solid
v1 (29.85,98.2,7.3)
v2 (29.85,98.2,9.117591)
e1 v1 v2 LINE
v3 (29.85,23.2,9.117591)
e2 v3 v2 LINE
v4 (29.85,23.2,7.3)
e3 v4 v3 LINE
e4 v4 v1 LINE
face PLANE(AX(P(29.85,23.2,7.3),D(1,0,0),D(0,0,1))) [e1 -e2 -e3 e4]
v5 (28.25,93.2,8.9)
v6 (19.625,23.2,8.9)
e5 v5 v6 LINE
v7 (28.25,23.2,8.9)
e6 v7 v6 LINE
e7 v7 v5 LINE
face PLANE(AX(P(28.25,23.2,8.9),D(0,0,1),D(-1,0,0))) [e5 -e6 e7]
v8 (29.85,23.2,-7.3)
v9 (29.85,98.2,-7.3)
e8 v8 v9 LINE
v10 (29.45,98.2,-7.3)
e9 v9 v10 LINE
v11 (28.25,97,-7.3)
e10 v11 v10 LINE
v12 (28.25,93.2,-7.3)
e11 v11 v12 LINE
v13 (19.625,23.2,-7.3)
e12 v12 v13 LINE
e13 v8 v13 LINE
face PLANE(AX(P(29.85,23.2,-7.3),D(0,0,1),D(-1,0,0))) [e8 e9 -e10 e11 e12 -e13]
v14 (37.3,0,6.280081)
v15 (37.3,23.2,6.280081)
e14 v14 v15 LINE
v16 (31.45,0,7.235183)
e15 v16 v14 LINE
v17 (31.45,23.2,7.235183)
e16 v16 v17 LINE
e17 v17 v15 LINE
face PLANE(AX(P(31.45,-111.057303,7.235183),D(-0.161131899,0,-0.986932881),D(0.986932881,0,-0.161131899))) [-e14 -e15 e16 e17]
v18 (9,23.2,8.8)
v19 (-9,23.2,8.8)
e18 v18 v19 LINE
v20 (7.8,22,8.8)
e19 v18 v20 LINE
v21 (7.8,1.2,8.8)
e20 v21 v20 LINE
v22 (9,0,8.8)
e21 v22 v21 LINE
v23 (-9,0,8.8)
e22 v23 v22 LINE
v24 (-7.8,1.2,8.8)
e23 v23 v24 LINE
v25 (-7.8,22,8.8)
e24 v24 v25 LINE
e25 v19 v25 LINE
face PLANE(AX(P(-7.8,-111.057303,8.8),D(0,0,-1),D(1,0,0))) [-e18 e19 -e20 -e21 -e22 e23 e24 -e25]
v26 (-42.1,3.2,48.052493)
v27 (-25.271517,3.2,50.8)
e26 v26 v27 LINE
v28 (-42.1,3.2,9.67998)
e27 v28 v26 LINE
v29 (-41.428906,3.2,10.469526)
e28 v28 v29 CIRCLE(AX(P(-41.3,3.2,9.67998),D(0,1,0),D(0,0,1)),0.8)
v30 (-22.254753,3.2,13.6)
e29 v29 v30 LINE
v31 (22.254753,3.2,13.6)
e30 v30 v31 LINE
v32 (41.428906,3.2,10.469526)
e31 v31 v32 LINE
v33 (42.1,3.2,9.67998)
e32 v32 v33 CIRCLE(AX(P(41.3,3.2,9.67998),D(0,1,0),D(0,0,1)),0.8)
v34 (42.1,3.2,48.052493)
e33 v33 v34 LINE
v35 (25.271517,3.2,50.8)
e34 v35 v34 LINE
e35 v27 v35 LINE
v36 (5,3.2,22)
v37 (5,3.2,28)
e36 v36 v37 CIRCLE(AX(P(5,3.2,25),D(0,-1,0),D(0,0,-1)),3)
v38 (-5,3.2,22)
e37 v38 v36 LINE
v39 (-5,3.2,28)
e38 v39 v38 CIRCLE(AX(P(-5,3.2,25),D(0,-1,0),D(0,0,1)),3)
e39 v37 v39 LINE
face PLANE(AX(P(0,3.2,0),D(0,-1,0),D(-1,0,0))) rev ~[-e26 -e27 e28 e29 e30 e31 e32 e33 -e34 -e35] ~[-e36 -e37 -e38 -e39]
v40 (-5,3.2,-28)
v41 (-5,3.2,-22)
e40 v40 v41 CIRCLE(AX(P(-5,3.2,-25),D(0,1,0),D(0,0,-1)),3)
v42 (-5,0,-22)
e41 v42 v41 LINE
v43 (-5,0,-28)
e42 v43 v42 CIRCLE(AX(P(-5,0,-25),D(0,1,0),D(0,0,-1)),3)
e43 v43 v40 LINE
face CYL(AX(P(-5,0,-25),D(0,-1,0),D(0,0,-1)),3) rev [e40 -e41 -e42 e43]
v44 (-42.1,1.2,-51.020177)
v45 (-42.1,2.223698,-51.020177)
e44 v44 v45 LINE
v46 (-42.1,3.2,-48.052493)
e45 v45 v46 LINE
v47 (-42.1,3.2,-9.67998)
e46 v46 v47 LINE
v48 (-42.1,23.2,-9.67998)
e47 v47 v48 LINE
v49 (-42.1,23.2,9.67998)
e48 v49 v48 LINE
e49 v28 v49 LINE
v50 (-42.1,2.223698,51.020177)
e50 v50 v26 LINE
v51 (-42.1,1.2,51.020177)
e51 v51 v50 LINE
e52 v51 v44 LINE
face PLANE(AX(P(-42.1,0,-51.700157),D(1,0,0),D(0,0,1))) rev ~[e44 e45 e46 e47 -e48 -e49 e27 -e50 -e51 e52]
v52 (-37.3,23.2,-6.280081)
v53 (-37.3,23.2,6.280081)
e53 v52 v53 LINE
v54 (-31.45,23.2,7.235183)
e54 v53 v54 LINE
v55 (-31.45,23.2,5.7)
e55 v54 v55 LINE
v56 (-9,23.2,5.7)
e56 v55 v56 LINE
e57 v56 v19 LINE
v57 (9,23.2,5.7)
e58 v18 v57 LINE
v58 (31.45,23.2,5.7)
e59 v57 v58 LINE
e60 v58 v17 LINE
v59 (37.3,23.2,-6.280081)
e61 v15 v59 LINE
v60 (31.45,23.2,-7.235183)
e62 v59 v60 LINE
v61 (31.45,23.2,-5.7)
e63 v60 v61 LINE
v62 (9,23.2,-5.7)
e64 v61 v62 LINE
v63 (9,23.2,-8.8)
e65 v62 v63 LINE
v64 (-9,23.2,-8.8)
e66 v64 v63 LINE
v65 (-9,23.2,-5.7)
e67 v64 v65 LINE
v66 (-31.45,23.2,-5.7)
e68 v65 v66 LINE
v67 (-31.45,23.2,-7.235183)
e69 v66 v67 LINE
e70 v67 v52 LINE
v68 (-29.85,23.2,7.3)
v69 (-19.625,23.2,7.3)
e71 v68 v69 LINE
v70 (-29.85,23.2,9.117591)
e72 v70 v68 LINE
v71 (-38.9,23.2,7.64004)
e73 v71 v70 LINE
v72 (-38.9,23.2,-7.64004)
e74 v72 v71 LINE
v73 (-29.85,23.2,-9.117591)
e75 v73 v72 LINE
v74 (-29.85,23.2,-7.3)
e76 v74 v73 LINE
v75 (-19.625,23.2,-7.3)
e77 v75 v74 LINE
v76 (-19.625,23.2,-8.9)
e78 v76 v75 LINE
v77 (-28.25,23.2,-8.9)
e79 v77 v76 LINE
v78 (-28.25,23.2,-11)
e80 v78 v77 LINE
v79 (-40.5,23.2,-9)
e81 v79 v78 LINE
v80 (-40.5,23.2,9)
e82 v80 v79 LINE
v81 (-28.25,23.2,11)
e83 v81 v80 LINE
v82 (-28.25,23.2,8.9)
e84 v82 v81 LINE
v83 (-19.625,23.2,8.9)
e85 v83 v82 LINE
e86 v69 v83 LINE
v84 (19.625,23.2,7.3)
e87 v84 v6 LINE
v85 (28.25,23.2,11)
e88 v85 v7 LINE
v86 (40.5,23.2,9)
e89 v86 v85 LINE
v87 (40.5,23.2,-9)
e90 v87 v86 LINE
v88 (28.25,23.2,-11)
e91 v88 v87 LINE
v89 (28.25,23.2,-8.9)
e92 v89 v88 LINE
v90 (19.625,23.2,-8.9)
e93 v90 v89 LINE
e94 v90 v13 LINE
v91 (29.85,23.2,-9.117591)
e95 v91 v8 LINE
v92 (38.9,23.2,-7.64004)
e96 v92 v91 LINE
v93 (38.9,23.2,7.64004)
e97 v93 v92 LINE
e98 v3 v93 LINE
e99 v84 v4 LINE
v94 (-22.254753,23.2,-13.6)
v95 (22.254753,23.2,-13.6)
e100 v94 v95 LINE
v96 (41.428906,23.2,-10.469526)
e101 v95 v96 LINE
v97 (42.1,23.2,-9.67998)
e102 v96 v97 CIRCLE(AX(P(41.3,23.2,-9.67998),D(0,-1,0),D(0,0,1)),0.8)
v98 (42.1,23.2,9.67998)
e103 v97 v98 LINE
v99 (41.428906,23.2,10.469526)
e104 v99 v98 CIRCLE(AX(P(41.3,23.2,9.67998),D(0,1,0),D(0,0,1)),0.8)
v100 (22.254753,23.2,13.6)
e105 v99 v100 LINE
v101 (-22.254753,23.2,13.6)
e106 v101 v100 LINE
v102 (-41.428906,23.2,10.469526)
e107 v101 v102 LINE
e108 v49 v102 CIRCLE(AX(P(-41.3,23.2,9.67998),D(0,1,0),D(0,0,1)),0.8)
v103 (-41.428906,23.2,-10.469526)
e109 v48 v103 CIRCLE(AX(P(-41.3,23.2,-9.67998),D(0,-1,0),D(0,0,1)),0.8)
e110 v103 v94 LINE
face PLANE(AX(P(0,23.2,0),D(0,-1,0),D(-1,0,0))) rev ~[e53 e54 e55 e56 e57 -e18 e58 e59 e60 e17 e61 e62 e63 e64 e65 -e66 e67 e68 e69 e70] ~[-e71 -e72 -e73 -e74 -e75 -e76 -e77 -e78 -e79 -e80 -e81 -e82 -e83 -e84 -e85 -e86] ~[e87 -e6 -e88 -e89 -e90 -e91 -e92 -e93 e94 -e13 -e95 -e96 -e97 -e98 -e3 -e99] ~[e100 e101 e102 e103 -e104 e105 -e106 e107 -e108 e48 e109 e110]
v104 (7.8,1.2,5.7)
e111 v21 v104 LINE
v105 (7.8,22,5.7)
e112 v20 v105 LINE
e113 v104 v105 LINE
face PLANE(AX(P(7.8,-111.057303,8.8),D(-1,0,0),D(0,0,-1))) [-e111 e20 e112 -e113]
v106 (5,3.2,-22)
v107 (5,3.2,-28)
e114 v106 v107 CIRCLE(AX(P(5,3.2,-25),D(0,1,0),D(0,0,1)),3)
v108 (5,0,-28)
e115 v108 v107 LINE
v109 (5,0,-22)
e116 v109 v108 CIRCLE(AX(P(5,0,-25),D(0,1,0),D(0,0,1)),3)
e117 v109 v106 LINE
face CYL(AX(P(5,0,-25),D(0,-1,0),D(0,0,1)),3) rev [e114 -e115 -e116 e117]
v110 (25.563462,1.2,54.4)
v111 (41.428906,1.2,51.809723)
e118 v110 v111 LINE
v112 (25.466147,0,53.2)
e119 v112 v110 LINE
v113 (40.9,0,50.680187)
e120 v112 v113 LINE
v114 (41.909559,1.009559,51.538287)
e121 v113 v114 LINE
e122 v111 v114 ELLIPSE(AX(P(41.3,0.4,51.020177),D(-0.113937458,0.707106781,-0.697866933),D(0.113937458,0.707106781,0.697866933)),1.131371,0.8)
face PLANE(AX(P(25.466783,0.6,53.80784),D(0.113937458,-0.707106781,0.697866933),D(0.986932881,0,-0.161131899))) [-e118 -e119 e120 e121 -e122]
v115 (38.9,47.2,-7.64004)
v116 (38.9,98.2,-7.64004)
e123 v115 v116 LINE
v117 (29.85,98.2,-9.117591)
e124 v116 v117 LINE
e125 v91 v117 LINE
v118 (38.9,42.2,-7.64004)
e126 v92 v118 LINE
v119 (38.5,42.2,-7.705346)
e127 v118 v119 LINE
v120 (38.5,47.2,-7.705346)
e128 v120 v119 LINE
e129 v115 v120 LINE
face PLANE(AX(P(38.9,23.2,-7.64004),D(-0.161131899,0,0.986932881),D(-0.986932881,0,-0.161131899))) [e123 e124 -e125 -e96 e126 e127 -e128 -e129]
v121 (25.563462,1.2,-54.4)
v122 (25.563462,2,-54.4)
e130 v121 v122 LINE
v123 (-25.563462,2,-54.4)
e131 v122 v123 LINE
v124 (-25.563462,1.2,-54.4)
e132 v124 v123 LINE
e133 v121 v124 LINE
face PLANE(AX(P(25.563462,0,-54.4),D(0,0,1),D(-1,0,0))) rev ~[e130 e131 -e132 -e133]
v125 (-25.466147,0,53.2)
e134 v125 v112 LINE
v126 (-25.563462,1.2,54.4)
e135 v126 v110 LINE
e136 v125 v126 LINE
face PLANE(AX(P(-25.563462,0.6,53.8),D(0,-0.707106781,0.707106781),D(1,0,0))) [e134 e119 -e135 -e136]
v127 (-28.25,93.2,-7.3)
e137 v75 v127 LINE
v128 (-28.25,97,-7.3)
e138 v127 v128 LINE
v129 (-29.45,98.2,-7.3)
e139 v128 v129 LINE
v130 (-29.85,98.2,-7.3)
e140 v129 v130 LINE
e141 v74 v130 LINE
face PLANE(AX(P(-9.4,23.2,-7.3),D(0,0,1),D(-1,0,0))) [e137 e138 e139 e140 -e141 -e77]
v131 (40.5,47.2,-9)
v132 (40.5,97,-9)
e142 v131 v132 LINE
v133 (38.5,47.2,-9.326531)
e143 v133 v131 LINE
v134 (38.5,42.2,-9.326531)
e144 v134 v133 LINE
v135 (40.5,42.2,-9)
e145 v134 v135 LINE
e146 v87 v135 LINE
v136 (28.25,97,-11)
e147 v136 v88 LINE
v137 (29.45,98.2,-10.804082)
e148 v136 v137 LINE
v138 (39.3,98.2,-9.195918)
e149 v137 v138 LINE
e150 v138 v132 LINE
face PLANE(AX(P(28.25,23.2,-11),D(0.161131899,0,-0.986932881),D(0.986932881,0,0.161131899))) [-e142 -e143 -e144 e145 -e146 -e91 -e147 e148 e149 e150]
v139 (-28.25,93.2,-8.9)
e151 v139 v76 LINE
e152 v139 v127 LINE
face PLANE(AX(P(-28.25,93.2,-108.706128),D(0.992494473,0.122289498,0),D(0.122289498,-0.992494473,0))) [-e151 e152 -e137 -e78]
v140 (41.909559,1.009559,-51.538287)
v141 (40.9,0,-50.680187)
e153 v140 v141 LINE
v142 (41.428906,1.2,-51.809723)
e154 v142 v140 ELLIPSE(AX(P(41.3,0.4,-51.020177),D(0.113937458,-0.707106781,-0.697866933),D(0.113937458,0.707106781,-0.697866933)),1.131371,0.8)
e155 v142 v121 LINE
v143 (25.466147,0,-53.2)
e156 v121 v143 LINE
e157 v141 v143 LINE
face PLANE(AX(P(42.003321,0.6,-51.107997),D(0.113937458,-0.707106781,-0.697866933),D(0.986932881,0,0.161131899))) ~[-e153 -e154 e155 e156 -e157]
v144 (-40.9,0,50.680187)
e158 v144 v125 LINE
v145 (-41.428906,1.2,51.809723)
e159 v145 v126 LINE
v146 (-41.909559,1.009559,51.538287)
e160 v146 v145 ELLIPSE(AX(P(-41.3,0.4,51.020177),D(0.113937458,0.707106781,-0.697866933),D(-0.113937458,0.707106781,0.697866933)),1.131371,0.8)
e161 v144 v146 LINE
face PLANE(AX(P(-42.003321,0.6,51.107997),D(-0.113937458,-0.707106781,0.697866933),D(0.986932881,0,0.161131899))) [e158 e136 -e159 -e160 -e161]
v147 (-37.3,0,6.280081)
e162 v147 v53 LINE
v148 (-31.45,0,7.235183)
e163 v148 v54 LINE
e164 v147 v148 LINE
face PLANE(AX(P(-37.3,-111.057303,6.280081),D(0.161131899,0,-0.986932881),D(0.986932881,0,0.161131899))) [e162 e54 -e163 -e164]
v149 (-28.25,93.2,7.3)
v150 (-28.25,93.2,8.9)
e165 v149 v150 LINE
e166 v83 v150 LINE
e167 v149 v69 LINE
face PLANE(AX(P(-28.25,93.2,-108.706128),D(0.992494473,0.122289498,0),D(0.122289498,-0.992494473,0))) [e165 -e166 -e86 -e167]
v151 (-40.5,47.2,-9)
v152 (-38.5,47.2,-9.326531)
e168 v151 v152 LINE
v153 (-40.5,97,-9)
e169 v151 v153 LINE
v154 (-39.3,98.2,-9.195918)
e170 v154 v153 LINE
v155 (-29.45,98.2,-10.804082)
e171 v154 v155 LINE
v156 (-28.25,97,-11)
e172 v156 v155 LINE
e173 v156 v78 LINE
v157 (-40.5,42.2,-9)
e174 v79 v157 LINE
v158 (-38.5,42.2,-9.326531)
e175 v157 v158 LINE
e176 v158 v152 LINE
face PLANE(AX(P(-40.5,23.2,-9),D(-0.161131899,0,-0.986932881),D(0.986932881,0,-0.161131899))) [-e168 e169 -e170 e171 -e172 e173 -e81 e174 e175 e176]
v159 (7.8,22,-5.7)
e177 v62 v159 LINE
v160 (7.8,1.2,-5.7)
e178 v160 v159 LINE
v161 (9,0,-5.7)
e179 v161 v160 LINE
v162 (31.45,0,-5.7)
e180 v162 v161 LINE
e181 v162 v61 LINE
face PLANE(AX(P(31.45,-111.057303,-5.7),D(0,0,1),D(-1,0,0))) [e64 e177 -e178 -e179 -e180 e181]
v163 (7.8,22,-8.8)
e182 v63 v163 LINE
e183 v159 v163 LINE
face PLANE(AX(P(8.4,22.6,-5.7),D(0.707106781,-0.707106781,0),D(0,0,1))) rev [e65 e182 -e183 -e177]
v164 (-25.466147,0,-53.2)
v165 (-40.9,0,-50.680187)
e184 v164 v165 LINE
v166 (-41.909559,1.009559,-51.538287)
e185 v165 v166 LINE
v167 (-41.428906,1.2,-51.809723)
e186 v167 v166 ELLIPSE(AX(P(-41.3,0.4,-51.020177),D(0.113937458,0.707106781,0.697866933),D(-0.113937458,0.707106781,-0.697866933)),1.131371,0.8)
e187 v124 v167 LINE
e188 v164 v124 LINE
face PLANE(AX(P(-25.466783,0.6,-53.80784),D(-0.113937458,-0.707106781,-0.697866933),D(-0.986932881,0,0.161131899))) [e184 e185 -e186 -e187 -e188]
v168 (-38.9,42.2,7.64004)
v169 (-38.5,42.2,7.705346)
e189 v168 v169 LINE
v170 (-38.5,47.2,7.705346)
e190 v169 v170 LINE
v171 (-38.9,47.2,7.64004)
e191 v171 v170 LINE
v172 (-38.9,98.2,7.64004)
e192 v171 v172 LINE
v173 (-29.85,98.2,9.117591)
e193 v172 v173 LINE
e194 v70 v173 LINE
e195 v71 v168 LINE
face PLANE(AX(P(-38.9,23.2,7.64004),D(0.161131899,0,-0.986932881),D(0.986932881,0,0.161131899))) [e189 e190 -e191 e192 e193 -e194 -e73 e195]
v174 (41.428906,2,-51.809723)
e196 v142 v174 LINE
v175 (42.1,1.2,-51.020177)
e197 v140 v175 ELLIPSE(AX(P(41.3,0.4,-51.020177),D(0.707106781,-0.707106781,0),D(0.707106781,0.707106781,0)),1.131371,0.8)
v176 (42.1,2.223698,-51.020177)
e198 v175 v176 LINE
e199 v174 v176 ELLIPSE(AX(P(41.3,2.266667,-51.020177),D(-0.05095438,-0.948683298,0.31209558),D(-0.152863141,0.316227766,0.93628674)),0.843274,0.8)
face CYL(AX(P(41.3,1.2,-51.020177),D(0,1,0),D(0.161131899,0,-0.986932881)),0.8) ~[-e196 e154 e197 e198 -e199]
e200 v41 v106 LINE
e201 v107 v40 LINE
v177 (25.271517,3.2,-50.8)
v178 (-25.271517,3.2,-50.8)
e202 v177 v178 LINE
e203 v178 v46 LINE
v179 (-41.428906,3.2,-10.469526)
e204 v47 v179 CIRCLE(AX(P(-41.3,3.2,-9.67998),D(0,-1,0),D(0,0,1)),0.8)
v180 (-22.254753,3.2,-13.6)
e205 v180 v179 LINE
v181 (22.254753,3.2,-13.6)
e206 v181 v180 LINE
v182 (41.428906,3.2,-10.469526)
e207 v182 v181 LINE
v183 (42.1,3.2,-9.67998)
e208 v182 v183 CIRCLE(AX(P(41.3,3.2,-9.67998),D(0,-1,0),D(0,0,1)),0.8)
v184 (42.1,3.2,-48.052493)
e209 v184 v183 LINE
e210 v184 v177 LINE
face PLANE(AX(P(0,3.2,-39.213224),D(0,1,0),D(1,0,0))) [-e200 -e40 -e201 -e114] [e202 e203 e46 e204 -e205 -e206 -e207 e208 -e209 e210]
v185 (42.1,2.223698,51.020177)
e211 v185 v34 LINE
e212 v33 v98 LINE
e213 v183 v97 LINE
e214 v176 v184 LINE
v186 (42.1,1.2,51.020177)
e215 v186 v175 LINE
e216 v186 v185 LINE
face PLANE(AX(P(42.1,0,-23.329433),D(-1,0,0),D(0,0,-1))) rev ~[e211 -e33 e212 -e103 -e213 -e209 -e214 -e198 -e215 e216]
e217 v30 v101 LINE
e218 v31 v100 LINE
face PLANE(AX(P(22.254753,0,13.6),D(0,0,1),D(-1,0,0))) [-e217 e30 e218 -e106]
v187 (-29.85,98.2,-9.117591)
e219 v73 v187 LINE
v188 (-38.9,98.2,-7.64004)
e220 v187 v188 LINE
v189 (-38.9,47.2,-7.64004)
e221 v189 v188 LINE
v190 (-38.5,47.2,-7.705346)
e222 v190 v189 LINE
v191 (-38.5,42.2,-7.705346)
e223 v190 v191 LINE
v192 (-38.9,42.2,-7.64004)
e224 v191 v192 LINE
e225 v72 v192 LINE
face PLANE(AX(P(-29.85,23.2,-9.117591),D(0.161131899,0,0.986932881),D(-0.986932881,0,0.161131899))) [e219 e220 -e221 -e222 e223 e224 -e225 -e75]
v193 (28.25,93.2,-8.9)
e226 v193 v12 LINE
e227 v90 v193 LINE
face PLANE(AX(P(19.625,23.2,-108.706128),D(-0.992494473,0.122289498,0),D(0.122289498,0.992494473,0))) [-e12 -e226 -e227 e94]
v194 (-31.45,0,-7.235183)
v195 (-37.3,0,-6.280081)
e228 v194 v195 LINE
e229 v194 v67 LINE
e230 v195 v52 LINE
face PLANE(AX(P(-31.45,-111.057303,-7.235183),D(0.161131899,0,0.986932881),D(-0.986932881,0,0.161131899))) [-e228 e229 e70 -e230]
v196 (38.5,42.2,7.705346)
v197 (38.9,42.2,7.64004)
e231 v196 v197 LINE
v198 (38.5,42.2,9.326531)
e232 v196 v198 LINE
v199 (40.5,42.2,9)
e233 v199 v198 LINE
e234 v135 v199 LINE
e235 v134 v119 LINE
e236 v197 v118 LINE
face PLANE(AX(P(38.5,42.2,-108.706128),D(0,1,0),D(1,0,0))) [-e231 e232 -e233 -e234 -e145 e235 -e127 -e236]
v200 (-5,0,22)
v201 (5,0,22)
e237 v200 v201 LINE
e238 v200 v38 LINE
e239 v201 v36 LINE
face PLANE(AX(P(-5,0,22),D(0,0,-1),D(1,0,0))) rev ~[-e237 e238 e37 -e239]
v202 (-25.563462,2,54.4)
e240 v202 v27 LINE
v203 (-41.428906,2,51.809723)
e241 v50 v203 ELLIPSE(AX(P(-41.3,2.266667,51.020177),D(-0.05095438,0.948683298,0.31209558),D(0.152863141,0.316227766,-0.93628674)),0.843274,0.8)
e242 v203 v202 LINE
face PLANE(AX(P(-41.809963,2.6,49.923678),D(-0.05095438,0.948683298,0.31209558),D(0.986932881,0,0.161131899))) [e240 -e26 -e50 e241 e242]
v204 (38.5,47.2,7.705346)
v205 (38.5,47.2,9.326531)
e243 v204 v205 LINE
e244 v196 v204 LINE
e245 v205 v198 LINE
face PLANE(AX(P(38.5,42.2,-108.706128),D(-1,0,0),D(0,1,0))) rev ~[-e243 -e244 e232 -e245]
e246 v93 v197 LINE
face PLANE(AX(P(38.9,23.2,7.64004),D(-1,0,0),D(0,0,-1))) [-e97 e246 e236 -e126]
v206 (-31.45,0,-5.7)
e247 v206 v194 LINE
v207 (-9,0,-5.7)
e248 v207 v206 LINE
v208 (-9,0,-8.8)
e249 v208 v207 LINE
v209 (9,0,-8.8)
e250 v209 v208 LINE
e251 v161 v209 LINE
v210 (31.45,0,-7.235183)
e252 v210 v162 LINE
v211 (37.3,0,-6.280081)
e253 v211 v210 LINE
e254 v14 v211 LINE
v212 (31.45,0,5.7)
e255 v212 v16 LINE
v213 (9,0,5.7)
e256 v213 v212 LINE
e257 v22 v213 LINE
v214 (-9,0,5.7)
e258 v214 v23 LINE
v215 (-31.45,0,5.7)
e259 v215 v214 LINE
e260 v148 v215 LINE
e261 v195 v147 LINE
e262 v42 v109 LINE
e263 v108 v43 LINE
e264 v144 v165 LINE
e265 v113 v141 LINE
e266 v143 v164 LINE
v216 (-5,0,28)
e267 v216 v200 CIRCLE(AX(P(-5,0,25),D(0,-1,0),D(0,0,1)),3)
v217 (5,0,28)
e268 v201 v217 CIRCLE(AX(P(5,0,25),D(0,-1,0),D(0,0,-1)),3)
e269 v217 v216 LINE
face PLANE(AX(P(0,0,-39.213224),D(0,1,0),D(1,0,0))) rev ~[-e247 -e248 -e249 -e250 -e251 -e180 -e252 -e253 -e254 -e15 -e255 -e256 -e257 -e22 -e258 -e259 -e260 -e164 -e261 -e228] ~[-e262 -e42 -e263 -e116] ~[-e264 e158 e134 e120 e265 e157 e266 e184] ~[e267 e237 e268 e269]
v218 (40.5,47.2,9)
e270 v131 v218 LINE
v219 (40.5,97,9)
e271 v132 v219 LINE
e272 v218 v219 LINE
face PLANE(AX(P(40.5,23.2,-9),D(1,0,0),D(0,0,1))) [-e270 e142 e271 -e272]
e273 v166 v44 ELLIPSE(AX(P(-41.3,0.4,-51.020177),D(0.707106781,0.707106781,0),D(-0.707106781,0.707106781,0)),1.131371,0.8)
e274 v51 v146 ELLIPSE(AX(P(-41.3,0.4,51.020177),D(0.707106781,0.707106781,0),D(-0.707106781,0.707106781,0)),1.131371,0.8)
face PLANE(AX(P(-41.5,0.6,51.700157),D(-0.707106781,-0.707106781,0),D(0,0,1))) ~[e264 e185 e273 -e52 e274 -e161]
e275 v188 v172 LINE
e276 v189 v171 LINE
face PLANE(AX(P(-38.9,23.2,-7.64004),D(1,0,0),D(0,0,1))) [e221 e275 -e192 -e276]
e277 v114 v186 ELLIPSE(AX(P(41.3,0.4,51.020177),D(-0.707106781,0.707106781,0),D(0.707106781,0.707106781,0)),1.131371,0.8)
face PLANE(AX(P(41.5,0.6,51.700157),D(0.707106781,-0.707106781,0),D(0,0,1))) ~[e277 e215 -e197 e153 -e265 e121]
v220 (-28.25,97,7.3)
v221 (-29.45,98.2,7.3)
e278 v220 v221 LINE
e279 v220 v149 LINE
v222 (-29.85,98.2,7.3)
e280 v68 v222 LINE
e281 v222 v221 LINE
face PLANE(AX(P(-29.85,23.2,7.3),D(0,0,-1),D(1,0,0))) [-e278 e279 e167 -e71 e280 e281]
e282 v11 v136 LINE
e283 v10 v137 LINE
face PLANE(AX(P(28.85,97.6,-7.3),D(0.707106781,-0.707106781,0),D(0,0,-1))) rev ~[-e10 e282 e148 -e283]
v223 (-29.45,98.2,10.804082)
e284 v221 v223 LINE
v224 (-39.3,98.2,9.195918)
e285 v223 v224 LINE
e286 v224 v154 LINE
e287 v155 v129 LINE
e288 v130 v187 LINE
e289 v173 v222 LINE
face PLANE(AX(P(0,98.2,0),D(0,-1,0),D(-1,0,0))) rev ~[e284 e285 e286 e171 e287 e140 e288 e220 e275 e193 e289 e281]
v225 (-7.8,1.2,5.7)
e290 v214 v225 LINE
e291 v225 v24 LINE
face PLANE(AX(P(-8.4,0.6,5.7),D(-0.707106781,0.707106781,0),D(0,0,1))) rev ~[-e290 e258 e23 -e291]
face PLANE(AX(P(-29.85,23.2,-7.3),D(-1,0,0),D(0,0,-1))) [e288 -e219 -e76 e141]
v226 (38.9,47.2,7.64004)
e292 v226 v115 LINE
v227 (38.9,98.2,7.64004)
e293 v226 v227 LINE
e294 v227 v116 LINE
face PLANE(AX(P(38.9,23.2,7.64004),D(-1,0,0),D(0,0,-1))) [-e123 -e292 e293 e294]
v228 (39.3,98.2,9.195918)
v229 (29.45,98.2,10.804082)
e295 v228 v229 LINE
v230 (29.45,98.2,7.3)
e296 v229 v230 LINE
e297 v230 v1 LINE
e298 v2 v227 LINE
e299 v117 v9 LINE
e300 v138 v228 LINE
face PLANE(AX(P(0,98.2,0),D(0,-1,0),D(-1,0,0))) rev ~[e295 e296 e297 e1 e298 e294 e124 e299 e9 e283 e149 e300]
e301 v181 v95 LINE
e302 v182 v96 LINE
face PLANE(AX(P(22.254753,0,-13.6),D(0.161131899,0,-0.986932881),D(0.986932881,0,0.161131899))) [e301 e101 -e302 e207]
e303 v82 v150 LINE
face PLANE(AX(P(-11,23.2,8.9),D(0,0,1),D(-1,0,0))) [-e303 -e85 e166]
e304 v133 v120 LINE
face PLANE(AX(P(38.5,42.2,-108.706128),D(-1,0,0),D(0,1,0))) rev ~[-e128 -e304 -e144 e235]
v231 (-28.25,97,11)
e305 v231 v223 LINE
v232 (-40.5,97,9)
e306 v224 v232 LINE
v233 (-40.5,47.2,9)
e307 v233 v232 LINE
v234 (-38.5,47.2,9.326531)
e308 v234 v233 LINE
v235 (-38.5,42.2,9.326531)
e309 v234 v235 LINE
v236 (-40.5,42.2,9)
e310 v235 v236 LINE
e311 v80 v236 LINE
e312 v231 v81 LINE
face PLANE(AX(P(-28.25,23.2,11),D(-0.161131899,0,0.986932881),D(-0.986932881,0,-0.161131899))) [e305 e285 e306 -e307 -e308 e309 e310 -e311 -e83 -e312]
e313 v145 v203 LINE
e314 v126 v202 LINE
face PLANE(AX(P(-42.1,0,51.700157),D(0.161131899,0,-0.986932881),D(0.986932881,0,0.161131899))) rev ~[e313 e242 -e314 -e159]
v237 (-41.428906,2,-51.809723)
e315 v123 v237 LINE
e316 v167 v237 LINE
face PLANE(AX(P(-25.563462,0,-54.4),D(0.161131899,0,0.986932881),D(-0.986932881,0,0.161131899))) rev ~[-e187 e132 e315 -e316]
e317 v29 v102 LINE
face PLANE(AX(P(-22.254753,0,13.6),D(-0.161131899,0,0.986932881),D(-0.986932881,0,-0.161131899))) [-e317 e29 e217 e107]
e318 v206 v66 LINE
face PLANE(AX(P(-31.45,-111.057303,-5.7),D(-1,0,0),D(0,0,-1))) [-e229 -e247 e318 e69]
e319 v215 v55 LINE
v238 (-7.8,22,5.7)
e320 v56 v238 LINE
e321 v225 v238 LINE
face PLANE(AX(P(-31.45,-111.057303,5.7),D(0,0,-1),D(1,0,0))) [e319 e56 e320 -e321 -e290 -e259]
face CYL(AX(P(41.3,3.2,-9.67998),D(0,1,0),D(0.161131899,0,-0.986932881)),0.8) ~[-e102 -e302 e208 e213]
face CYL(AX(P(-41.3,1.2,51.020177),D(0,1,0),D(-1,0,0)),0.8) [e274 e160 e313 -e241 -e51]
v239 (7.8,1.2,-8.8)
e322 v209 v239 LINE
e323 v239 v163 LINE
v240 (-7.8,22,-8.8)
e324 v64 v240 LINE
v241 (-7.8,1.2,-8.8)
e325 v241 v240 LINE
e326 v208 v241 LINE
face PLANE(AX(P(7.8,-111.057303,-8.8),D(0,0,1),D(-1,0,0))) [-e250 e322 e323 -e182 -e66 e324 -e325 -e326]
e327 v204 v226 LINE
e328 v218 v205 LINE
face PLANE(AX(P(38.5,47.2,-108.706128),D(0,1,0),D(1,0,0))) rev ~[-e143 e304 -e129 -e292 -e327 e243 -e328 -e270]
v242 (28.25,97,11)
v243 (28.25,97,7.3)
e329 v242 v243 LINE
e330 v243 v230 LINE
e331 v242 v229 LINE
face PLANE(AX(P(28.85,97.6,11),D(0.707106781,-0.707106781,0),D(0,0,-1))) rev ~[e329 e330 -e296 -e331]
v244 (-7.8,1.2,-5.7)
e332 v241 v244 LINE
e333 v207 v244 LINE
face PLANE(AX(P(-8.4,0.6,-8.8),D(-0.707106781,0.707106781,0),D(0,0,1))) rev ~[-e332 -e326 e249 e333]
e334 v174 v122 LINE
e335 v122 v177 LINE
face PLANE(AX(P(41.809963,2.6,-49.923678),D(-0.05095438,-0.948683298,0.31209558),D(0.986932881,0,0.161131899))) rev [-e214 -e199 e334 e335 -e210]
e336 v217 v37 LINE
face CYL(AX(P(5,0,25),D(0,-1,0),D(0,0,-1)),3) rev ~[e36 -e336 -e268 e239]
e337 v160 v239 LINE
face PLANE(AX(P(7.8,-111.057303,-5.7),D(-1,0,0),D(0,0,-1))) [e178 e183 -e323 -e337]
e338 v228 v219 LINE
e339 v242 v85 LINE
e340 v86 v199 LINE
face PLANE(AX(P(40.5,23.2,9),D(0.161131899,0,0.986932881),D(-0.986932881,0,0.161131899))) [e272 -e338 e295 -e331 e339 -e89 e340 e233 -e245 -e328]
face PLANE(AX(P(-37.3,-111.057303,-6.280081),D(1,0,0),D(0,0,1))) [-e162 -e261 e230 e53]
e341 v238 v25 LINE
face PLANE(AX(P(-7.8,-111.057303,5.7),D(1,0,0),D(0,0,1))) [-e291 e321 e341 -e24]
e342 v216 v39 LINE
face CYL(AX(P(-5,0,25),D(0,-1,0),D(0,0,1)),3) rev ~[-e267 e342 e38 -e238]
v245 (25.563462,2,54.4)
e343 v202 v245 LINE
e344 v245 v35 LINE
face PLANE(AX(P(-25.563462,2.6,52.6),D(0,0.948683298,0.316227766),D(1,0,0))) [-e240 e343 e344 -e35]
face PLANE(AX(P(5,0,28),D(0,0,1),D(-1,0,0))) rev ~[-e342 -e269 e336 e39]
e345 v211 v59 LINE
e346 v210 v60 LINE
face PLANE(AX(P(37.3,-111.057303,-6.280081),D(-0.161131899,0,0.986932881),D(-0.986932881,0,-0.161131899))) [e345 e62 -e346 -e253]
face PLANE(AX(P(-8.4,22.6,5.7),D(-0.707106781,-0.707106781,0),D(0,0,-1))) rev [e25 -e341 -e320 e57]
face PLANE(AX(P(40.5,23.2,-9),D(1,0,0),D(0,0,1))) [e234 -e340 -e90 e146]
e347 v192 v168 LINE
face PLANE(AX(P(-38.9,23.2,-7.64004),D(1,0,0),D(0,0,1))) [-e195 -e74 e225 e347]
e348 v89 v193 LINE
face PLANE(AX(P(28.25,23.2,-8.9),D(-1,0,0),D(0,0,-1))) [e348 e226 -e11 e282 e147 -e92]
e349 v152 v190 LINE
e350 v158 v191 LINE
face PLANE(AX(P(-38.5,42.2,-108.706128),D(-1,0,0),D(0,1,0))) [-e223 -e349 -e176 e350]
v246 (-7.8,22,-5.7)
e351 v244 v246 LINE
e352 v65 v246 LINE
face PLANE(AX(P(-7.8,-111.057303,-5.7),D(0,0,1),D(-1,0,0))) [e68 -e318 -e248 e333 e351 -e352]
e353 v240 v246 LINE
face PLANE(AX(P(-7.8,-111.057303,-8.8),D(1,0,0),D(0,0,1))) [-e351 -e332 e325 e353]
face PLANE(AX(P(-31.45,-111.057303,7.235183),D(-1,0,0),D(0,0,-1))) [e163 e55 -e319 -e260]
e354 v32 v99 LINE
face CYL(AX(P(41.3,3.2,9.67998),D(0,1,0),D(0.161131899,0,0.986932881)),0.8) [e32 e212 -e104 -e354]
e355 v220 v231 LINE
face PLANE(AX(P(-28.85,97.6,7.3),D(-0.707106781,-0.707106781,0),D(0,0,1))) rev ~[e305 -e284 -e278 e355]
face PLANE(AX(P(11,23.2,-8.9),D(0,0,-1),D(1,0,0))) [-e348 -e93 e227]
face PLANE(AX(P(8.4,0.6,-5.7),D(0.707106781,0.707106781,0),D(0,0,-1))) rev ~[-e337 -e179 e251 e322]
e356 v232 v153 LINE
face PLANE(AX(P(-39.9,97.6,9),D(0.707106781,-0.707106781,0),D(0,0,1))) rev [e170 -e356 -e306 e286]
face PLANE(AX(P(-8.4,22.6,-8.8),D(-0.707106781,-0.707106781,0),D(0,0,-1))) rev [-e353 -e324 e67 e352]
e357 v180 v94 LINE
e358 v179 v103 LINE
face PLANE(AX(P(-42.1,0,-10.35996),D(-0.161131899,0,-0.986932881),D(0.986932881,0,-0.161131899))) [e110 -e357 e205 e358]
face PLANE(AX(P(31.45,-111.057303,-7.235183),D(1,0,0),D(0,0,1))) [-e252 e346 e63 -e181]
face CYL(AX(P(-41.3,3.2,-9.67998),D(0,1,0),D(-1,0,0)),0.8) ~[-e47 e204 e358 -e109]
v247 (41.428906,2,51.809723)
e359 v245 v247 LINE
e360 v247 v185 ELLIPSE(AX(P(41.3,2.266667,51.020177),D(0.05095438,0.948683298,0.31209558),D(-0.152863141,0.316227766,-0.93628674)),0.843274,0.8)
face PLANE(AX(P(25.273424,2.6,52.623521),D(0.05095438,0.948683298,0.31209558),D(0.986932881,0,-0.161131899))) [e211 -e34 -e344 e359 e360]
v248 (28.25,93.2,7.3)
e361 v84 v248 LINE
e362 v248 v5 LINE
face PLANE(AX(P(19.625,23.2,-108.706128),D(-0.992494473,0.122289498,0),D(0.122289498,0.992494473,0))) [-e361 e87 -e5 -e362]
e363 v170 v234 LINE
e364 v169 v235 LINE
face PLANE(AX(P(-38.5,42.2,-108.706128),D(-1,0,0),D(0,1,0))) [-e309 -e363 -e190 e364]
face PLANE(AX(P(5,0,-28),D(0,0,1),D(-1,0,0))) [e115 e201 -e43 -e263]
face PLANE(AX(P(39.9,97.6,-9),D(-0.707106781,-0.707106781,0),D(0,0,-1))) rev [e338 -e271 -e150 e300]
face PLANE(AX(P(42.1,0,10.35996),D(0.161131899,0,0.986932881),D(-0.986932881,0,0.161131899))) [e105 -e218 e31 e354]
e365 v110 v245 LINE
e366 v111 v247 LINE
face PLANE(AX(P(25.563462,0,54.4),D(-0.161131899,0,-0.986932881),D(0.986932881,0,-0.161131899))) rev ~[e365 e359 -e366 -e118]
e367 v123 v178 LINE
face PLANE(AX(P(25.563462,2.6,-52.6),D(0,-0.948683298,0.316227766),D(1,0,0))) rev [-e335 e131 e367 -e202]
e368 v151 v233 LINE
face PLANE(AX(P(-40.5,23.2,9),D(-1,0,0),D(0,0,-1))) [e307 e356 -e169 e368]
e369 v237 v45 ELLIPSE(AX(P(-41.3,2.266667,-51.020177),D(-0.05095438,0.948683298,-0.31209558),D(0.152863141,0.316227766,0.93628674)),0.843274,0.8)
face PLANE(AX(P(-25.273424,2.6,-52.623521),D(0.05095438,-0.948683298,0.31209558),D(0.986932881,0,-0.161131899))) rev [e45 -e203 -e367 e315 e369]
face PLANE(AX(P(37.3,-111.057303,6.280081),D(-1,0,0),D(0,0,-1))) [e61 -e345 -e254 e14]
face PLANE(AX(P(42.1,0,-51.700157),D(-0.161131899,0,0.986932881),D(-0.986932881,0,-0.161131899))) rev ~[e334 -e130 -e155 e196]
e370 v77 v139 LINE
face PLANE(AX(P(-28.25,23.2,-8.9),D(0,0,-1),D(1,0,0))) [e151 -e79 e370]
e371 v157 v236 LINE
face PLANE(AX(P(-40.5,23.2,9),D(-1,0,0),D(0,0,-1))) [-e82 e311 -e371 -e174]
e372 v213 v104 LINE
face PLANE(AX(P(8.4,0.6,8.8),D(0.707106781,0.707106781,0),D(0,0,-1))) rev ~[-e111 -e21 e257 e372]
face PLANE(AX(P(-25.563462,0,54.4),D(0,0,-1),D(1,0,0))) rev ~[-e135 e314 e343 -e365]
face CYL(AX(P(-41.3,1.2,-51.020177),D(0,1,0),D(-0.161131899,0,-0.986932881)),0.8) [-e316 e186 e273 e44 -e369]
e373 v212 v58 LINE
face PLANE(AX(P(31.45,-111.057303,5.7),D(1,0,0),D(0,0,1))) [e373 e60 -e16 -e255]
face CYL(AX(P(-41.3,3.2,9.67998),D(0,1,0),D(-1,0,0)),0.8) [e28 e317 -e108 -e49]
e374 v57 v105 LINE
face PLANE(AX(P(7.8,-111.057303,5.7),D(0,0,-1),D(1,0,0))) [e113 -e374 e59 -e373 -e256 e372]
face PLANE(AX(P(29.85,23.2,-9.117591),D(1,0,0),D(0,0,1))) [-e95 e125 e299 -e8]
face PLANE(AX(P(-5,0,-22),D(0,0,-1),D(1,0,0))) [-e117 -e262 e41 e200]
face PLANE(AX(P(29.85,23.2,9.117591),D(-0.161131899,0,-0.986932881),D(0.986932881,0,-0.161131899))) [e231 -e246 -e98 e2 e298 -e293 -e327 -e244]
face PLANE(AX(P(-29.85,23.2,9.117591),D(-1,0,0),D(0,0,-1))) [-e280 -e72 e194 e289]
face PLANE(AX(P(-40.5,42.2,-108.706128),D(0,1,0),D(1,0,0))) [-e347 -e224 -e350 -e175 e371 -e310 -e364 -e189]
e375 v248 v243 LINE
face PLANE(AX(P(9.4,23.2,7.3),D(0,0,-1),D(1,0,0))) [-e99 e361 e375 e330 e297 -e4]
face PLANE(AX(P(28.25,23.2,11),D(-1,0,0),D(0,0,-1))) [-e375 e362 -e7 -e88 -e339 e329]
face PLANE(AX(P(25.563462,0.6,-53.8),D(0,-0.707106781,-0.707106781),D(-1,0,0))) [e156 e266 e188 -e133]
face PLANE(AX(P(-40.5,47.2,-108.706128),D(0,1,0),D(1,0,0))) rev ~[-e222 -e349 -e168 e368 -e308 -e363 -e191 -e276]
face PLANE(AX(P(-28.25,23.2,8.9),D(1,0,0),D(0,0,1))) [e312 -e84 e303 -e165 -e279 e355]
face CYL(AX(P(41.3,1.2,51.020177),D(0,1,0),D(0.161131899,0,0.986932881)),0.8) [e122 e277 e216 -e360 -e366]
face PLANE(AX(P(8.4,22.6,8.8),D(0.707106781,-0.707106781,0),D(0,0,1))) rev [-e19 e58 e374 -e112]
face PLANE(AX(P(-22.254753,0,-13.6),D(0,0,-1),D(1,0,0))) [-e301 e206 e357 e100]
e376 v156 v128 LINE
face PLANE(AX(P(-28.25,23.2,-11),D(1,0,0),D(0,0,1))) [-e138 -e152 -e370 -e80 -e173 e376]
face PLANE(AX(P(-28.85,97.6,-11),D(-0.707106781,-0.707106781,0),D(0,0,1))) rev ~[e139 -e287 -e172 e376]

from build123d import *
from OCP.BRepFilletAPI import BRepFilletAPI_MakeChamfer

# Parameters (mm, degrees)
BOSS_EXTRUDE1_DEPTH     = 23.2
BOSS_EXTRUDE2_START     = 23.2
BOSS_EXTRUDE2_DEPTH     = 75
CUT_EXTRUDE1_DEPTH      = 108.706127959
CUT_EXTRUDE1_DEPTH_BACK = 108.706127959
SKETCH2_W               = 2
SKETCH2_H               = 5
CUT_EXTRUDE2_DEPTH      = 108.706127959
CUT_EXTRUDE2_DEPTH_BACK = 108.706127959
BOSS_EXTRUDE3_DEPTH     = 3.2
CUT_EXTRUDE3_DEPTH      = 111.057303256
CUT_EXTRUDE3_DEPTH_BACK = 111.057303256
BOSS_EXTRUDE4_DEPTH     = 3.2
BOSS_EXTRUDE5_DEPTH     = 3.2
CUT_EXTRUDE4_DEPTH      = 3.2
CHAMFER1_SIZE           = 1.2
CHAMFER1_SIZE2          = 3.6
CHAMFER2_SIZE           = 1.2
FILLET1_R               = 0.8


with BuildPart() as part:
    # Sketch1 → Boss-Extrude1 (new body)
    with BuildSketch(Plane(origin=(0, 0, 0), x_dir=(1, 0, 0), z_dir=(0, 1, 0))):
        Polygon((-22.25475327, 13.6), (22.25475327, 13.6), (42.1, 10.359959718), (42.1, -10.359959718), (22.25475327, -13.6), (-22.25475327, -13.6), (-42.1, -10.359959718), (-42.1, 10.359959718), align=None)
    extrude(amount=BOSS_EXTRUDE1_DEPTH)

    # Sketch1<3> → Boss-Extrude2 (add)
    with BuildSketch(Plane(origin=(0, 0, 0), x_dir=(1, 0, 0), z_dir=(0, 1, 0)).offset(BOSS_EXTRUDE2_START)):
        Polygon((40.5, -9), (28.25, -11), (28.25, -8.9), (11, -8.9), (11, -12), (-11, -12), (-11, -8.9), (-28.25, -8.9), (-28.25, -11), (-40.5, -9), (-40.5, 9), (-28.25, 11), (-28.25, 8.9), (-11, 8.9), (-11, 12), (11, 12), (11, 8.9), (28.25, 8.9), (28.25, 11), (40.5, 9), align=None)
        Polygon((-38.9, -7.640040282), (-29.85, -9.117591303), (-29.85, -7.3), (-9.4, -7.3), (-9.4, -10.4), (9.4, -10.4), (9.4, -7.3), (29.85, -7.3), (29.85, -9.117591303), (38.9, -7.640040282), (38.9, 7.640040282), (29.85, 9.117591303), (29.85, 7.3), (9.4, 7.3), (9.4, 10.4), (-9.4, 10.4), (-9.4, 7.3), (-29.85, 7.3), (-29.85, 9.117591303), (-38.9, 7.640040282), align=None, mode=Mode.SUBTRACT)
    extrude(amount=BOSS_EXTRUDE2_DEPTH)

    # Sketch2 → Cut-Extrude1 (cut, two sides: drawn at the far end of the back side and taken through both)
    with BuildSketch(Plane.XY.offset(-CUT_EXTRUDE1_DEPTH_BACK)):
        with Locations((-39.5, 44.7)):
            Rectangle(SKETCH2_W, SKETCH2_H)
        with Locations((39.5, 44.7)):
            Rectangle(SKETCH2_W, SKETCH2_H)
    extrude(amount=CUT_EXTRUDE1_DEPTH + CUT_EXTRUDE1_DEPTH_BACK, mode=Mode.SUBTRACT)

    # Sketch3 → Cut-Extrude2 (cut, two sides: drawn at the far end of the back side and taken through both)
    with BuildSketch(Plane.XY.offset(-CUT_EXTRUDE2_DEPTH_BACK)):
        Polygon((-28.25, 93.2), (-19.625, 23.2), (19.625, 23.2), (28.25, 93.2), (28.25, 98.2), (-28.25, 98.2), align=None)
    extrude(amount=CUT_EXTRUDE2_DEPTH + CUT_EXTRUDE2_DEPTH_BACK, mode=Mode.SUBTRACT)

    # Sketch4 → Boss-Extrude3 (add)
    with BuildSketch(Plane(origin=(0, 0, 0), x_dir=(1, 0, 0), z_dir=(0, 1, 0))):
        Polygon((23.292779429, 26.4), (42.1, 23.329433376), (42.1, -23.329433376), (23.292779429, -26.4), (-23.292779429, -26.4), (-42.1, -23.329433376), (-42.1, 23.329433376), (-23.292779429, 26.4), align=None)
    extrude(amount=BOSS_EXTRUDE3_DEPTH)

    # Sketch1<4> → Cut-Extrude3 (cut, two sides: drawn at the far end of the back side and taken through both)
    with BuildSketch(Plane(origin=(0, 0, 0), x_dir=(1, 0, 0), z_dir=(0, 1, 0)).offset(-CUT_EXTRUDE3_DEPTH_BACK)):
        Polygon((-31.45, -5.7), (-7.8, -5.7), (-7.8, -8.8), (7.8, -8.8), (7.8, -5.7), (31.45, -5.7), (31.45, -7.235182606), (37.3, -6.280080565), (37.3, 6.280080565), (31.45, 7.235182606), (31.45, 5.7), (7.8, 5.7), (7.8, 8.8), (-7.8, 8.8), (-7.8, 5.7), (-31.45, 5.7), (-31.45, 7.235182606), (-37.3, 6.280080565), (-37.3, -6.280080565), (-31.45, -7.235182606), align=None)
    extrude(amount=CUT_EXTRUDE3_DEPTH + CUT_EXTRUDE3_DEPTH_BACK, mode=Mode.SUBTRACT)

    # Sketch5 → Boss-Extrude4 (add)
    with BuildSketch(Plane(origin=(0, 0, 0), x_dir=(1, 0, 0), z_dir=(0, 1, 0))):
        Polygon((23.292779429, 26.4), (42.1, 23.329433376), (42.1, 51.700157004), (25.563461651, 54.4), (-25.563461651, 54.4), (-42.1, 51.700157004), (-42.1, 23.329433376), (-23.292779429, 26.4), align=None)
        Polygon((-42.1, -23.329433376), (-42.1, -51.700157004), (-25.563461651, -54.4), (25.563461651, -54.4), (42.1, -51.700157004), (42.1, -23.329433376), (23.292779429, -26.4), (-23.292779429, -26.4), align=None)
    extrude(amount=BOSS_EXTRUDE4_DEPTH)

    # Sketch6 → Boss-Extrude5 (add)
    with BuildSketch(Plane(origin=(0, 0, 0), x_dir=(1, 0, 0), z_dir=(0, 1, 0))):
        Polygon((25.563461651, 54.4), (42.1, 51.700157004), (42.1, 48.100157004), (-42.1, 48.100157004), (-42.1, 51.700157004), (-25.563461651, 54.4), align=None)
        Polygon((42.1, -48.100157004), (42.1, -51.700157004), (25.563461651, -54.4), (-25.563461651, -54.4), (-42.1, -51.700157004), (-42.1, -48.100157004), align=None)
    extrude(amount=BOSS_EXTRUDE5_DEPTH)

    # Sketch7 → Cut-Extrude4 (cut)
    with BuildSketch(Plane(origin=(0, 0, 0), x_dir=(0, 0, -1), z_dir=(0, 1, 0))):
        with BuildLine():
            Line((28, -5), (28, 5))
            ThreePointArc((28, 5), (25, 8), (22, 5))
            Line((22, 5), (22, -5))
            ThreePointArc((22, -5), (25, -8), (28, -5))
        make_face()
        with BuildLine():
            Line((-28, -5), (-28, 5))
            ThreePointArc((-28, 5), (-25, 8), (-22, 5))
            Line((-22, 5), (-22, -5))
            ThreePointArc((-22, -5), (-25, -8), (-28, -5))
        make_face()
    extrude(amount=CUT_EXTRUDE4_DEPTH, mode=Mode.SUBTRACT)

    # Chamfer1: one chamfer whose edges measure the first distance from different faces: ONE call of the kernel's chamfer builder (chamfer() names one face for all edges)
    chamfer1_edges_1 = [part.edges().sort_by_distance(p)[0] for p in [
        (-33.831730825, 3.2, 53.050078502),
    ]]
    chamfer1_side_1 = [part.faces().sort_by_distance(p)[0] for p in [
        (-33.831730825, 1.6, 53.050078502),
    ]]
    chamfer1_edges_2 = [part.edges().sort_by_distance(p)[0] for p in [
        (0, 3.2, 54.4),
    ]]
    chamfer1_side_2 = [part.faces().sort_by_distance(p)[0] for p in [
        (0, 1.6, 54.4),
    ]]
    chamfer1_edges_3 = [part.edges().sort_by_distance(p)[0] for p in [
        (33.831730825, 3.2, 53.050078502),
    ]]
    chamfer1_side_3 = [part.faces().sort_by_distance(p)[0] for p in [
        (33.831730825, 1.6, 53.050078502),
    ]]
    chamfer1_edges_4 = [part.edges().sort_by_distance(p)[0] for p in [
        (33.831730825, 3.2, -53.050078502),
    ]]
    chamfer1_side_4 = [part.faces().sort_by_distance(p)[0] for p in [
        (33.831730825, 1.6, -53.050078502),
    ]]
    chamfer1_edges_5 = [part.edges().sort_by_distance(p)[0] for p in [
        (0, 3.2, -54.4),
    ]]
    chamfer1_side_5 = [part.faces().sort_by_distance(p)[0] for p in [
        (0, 1.6, -54.4),
    ]]
    chamfer1_edges_6 = [part.edges().sort_by_distance(p)[0] for p in [
        (-33.831730825, 3.2, -53.050078502),
    ]]
    chamfer1_side_6 = [part.faces().sort_by_distance(p)[0] for p in [
        (-33.831730825, 1.6, -53.050078502),
    ]]
    chamfer1 = BRepFilletAPI_MakeChamfer(part.part.solid().wrapped)
    for e in chamfer1_edges_1:
        chamfer1.Add(CHAMFER1_SIZE, CHAMFER1_SIZE2, e.wrapped, chamfer1_side_1[0].wrapped)  # the first distance lies on this face
    for e in chamfer1_edges_2:
        chamfer1.Add(CHAMFER1_SIZE, CHAMFER1_SIZE2, e.wrapped, chamfer1_side_2[0].wrapped)  # the first distance lies on this face
    for e in chamfer1_edges_3:
        chamfer1.Add(CHAMFER1_SIZE, CHAMFER1_SIZE2, e.wrapped, chamfer1_side_3[0].wrapped)  # the first distance lies on this face
    for e in chamfer1_edges_4:
        chamfer1.Add(CHAMFER1_SIZE, CHAMFER1_SIZE2, e.wrapped, chamfer1_side_4[0].wrapped)  # the first distance lies on this face
    for e in chamfer1_edges_5:
        chamfer1.Add(CHAMFER1_SIZE, CHAMFER1_SIZE2, e.wrapped, chamfer1_side_5[0].wrapped)  # the first distance lies on this face
    for e in chamfer1_edges_6:
        chamfer1.Add(CHAMFER1_SIZE, CHAMFER1_SIZE2, e.wrapped, chamfer1_side_6[0].wrapped)  # the first distance lies on this face
    add(Compound.cast(chamfer1.Shape()), mode=Mode.REPLACE)

    # Chamfer2
    chamfer2_edges = [part.edges().sort_by_distance(p)[0] for p in [
        (-42.1, 0, 0),
        (-7.8, 23.2, 7.25),
        (7.8, 23.2, 7.25),
        (7.8, 23.2, -7.25),
        (-7.8, 23.2, -7.25),
        (-7.8, 0, -7.25),
        (7.8, 0, -7.25),
        (7.8, 0, 7.25),
        (-7.8, 0, 7.25),
        (40.5, 98.2, 0),
        (28.25, 98.2, -9.15),
        (-28.25, 98.2, 9.15),
        (0, 0, 54.4),
        (33.831730825, 0, 53.050078502),
        (-33.831730825, 0, 53.050078502),
        (33.831730825, 0, -53.050078502),
        (0, 0, -54.4),
        (-33.831730825, 0, -53.050078502),
        (28.25, 98.2, 9.15),
        (-28.25, 98.2, -9.15),
        (-40.5, 98.2, 0),
        (42.1, 0, 0),
    ]]
    chamfer(chamfer2_edges, length=CHAMFER2_SIZE)

    # Fillet1
    fillet1_edges = [part.edges().sort_by_distance(p)[0] for p in [
        (-42.1, 13.2, 10.359959718),
        (42.1, 13.2, 10.359959718),
        (42.1, 13.2, -10.359959718),
        (-42.1, 13.2, -10.359959718),
        (-42.1, 1.6, 51.700157004),
        (-42.1, 1.6, -51.700157004),
        (42.1, 1.6, -51.700157004),
        (42.1, 1.6, 51.700157004),
    ]]
    fillet(fillet1_edges, radius=FILLET1_R)


solid = part.part
